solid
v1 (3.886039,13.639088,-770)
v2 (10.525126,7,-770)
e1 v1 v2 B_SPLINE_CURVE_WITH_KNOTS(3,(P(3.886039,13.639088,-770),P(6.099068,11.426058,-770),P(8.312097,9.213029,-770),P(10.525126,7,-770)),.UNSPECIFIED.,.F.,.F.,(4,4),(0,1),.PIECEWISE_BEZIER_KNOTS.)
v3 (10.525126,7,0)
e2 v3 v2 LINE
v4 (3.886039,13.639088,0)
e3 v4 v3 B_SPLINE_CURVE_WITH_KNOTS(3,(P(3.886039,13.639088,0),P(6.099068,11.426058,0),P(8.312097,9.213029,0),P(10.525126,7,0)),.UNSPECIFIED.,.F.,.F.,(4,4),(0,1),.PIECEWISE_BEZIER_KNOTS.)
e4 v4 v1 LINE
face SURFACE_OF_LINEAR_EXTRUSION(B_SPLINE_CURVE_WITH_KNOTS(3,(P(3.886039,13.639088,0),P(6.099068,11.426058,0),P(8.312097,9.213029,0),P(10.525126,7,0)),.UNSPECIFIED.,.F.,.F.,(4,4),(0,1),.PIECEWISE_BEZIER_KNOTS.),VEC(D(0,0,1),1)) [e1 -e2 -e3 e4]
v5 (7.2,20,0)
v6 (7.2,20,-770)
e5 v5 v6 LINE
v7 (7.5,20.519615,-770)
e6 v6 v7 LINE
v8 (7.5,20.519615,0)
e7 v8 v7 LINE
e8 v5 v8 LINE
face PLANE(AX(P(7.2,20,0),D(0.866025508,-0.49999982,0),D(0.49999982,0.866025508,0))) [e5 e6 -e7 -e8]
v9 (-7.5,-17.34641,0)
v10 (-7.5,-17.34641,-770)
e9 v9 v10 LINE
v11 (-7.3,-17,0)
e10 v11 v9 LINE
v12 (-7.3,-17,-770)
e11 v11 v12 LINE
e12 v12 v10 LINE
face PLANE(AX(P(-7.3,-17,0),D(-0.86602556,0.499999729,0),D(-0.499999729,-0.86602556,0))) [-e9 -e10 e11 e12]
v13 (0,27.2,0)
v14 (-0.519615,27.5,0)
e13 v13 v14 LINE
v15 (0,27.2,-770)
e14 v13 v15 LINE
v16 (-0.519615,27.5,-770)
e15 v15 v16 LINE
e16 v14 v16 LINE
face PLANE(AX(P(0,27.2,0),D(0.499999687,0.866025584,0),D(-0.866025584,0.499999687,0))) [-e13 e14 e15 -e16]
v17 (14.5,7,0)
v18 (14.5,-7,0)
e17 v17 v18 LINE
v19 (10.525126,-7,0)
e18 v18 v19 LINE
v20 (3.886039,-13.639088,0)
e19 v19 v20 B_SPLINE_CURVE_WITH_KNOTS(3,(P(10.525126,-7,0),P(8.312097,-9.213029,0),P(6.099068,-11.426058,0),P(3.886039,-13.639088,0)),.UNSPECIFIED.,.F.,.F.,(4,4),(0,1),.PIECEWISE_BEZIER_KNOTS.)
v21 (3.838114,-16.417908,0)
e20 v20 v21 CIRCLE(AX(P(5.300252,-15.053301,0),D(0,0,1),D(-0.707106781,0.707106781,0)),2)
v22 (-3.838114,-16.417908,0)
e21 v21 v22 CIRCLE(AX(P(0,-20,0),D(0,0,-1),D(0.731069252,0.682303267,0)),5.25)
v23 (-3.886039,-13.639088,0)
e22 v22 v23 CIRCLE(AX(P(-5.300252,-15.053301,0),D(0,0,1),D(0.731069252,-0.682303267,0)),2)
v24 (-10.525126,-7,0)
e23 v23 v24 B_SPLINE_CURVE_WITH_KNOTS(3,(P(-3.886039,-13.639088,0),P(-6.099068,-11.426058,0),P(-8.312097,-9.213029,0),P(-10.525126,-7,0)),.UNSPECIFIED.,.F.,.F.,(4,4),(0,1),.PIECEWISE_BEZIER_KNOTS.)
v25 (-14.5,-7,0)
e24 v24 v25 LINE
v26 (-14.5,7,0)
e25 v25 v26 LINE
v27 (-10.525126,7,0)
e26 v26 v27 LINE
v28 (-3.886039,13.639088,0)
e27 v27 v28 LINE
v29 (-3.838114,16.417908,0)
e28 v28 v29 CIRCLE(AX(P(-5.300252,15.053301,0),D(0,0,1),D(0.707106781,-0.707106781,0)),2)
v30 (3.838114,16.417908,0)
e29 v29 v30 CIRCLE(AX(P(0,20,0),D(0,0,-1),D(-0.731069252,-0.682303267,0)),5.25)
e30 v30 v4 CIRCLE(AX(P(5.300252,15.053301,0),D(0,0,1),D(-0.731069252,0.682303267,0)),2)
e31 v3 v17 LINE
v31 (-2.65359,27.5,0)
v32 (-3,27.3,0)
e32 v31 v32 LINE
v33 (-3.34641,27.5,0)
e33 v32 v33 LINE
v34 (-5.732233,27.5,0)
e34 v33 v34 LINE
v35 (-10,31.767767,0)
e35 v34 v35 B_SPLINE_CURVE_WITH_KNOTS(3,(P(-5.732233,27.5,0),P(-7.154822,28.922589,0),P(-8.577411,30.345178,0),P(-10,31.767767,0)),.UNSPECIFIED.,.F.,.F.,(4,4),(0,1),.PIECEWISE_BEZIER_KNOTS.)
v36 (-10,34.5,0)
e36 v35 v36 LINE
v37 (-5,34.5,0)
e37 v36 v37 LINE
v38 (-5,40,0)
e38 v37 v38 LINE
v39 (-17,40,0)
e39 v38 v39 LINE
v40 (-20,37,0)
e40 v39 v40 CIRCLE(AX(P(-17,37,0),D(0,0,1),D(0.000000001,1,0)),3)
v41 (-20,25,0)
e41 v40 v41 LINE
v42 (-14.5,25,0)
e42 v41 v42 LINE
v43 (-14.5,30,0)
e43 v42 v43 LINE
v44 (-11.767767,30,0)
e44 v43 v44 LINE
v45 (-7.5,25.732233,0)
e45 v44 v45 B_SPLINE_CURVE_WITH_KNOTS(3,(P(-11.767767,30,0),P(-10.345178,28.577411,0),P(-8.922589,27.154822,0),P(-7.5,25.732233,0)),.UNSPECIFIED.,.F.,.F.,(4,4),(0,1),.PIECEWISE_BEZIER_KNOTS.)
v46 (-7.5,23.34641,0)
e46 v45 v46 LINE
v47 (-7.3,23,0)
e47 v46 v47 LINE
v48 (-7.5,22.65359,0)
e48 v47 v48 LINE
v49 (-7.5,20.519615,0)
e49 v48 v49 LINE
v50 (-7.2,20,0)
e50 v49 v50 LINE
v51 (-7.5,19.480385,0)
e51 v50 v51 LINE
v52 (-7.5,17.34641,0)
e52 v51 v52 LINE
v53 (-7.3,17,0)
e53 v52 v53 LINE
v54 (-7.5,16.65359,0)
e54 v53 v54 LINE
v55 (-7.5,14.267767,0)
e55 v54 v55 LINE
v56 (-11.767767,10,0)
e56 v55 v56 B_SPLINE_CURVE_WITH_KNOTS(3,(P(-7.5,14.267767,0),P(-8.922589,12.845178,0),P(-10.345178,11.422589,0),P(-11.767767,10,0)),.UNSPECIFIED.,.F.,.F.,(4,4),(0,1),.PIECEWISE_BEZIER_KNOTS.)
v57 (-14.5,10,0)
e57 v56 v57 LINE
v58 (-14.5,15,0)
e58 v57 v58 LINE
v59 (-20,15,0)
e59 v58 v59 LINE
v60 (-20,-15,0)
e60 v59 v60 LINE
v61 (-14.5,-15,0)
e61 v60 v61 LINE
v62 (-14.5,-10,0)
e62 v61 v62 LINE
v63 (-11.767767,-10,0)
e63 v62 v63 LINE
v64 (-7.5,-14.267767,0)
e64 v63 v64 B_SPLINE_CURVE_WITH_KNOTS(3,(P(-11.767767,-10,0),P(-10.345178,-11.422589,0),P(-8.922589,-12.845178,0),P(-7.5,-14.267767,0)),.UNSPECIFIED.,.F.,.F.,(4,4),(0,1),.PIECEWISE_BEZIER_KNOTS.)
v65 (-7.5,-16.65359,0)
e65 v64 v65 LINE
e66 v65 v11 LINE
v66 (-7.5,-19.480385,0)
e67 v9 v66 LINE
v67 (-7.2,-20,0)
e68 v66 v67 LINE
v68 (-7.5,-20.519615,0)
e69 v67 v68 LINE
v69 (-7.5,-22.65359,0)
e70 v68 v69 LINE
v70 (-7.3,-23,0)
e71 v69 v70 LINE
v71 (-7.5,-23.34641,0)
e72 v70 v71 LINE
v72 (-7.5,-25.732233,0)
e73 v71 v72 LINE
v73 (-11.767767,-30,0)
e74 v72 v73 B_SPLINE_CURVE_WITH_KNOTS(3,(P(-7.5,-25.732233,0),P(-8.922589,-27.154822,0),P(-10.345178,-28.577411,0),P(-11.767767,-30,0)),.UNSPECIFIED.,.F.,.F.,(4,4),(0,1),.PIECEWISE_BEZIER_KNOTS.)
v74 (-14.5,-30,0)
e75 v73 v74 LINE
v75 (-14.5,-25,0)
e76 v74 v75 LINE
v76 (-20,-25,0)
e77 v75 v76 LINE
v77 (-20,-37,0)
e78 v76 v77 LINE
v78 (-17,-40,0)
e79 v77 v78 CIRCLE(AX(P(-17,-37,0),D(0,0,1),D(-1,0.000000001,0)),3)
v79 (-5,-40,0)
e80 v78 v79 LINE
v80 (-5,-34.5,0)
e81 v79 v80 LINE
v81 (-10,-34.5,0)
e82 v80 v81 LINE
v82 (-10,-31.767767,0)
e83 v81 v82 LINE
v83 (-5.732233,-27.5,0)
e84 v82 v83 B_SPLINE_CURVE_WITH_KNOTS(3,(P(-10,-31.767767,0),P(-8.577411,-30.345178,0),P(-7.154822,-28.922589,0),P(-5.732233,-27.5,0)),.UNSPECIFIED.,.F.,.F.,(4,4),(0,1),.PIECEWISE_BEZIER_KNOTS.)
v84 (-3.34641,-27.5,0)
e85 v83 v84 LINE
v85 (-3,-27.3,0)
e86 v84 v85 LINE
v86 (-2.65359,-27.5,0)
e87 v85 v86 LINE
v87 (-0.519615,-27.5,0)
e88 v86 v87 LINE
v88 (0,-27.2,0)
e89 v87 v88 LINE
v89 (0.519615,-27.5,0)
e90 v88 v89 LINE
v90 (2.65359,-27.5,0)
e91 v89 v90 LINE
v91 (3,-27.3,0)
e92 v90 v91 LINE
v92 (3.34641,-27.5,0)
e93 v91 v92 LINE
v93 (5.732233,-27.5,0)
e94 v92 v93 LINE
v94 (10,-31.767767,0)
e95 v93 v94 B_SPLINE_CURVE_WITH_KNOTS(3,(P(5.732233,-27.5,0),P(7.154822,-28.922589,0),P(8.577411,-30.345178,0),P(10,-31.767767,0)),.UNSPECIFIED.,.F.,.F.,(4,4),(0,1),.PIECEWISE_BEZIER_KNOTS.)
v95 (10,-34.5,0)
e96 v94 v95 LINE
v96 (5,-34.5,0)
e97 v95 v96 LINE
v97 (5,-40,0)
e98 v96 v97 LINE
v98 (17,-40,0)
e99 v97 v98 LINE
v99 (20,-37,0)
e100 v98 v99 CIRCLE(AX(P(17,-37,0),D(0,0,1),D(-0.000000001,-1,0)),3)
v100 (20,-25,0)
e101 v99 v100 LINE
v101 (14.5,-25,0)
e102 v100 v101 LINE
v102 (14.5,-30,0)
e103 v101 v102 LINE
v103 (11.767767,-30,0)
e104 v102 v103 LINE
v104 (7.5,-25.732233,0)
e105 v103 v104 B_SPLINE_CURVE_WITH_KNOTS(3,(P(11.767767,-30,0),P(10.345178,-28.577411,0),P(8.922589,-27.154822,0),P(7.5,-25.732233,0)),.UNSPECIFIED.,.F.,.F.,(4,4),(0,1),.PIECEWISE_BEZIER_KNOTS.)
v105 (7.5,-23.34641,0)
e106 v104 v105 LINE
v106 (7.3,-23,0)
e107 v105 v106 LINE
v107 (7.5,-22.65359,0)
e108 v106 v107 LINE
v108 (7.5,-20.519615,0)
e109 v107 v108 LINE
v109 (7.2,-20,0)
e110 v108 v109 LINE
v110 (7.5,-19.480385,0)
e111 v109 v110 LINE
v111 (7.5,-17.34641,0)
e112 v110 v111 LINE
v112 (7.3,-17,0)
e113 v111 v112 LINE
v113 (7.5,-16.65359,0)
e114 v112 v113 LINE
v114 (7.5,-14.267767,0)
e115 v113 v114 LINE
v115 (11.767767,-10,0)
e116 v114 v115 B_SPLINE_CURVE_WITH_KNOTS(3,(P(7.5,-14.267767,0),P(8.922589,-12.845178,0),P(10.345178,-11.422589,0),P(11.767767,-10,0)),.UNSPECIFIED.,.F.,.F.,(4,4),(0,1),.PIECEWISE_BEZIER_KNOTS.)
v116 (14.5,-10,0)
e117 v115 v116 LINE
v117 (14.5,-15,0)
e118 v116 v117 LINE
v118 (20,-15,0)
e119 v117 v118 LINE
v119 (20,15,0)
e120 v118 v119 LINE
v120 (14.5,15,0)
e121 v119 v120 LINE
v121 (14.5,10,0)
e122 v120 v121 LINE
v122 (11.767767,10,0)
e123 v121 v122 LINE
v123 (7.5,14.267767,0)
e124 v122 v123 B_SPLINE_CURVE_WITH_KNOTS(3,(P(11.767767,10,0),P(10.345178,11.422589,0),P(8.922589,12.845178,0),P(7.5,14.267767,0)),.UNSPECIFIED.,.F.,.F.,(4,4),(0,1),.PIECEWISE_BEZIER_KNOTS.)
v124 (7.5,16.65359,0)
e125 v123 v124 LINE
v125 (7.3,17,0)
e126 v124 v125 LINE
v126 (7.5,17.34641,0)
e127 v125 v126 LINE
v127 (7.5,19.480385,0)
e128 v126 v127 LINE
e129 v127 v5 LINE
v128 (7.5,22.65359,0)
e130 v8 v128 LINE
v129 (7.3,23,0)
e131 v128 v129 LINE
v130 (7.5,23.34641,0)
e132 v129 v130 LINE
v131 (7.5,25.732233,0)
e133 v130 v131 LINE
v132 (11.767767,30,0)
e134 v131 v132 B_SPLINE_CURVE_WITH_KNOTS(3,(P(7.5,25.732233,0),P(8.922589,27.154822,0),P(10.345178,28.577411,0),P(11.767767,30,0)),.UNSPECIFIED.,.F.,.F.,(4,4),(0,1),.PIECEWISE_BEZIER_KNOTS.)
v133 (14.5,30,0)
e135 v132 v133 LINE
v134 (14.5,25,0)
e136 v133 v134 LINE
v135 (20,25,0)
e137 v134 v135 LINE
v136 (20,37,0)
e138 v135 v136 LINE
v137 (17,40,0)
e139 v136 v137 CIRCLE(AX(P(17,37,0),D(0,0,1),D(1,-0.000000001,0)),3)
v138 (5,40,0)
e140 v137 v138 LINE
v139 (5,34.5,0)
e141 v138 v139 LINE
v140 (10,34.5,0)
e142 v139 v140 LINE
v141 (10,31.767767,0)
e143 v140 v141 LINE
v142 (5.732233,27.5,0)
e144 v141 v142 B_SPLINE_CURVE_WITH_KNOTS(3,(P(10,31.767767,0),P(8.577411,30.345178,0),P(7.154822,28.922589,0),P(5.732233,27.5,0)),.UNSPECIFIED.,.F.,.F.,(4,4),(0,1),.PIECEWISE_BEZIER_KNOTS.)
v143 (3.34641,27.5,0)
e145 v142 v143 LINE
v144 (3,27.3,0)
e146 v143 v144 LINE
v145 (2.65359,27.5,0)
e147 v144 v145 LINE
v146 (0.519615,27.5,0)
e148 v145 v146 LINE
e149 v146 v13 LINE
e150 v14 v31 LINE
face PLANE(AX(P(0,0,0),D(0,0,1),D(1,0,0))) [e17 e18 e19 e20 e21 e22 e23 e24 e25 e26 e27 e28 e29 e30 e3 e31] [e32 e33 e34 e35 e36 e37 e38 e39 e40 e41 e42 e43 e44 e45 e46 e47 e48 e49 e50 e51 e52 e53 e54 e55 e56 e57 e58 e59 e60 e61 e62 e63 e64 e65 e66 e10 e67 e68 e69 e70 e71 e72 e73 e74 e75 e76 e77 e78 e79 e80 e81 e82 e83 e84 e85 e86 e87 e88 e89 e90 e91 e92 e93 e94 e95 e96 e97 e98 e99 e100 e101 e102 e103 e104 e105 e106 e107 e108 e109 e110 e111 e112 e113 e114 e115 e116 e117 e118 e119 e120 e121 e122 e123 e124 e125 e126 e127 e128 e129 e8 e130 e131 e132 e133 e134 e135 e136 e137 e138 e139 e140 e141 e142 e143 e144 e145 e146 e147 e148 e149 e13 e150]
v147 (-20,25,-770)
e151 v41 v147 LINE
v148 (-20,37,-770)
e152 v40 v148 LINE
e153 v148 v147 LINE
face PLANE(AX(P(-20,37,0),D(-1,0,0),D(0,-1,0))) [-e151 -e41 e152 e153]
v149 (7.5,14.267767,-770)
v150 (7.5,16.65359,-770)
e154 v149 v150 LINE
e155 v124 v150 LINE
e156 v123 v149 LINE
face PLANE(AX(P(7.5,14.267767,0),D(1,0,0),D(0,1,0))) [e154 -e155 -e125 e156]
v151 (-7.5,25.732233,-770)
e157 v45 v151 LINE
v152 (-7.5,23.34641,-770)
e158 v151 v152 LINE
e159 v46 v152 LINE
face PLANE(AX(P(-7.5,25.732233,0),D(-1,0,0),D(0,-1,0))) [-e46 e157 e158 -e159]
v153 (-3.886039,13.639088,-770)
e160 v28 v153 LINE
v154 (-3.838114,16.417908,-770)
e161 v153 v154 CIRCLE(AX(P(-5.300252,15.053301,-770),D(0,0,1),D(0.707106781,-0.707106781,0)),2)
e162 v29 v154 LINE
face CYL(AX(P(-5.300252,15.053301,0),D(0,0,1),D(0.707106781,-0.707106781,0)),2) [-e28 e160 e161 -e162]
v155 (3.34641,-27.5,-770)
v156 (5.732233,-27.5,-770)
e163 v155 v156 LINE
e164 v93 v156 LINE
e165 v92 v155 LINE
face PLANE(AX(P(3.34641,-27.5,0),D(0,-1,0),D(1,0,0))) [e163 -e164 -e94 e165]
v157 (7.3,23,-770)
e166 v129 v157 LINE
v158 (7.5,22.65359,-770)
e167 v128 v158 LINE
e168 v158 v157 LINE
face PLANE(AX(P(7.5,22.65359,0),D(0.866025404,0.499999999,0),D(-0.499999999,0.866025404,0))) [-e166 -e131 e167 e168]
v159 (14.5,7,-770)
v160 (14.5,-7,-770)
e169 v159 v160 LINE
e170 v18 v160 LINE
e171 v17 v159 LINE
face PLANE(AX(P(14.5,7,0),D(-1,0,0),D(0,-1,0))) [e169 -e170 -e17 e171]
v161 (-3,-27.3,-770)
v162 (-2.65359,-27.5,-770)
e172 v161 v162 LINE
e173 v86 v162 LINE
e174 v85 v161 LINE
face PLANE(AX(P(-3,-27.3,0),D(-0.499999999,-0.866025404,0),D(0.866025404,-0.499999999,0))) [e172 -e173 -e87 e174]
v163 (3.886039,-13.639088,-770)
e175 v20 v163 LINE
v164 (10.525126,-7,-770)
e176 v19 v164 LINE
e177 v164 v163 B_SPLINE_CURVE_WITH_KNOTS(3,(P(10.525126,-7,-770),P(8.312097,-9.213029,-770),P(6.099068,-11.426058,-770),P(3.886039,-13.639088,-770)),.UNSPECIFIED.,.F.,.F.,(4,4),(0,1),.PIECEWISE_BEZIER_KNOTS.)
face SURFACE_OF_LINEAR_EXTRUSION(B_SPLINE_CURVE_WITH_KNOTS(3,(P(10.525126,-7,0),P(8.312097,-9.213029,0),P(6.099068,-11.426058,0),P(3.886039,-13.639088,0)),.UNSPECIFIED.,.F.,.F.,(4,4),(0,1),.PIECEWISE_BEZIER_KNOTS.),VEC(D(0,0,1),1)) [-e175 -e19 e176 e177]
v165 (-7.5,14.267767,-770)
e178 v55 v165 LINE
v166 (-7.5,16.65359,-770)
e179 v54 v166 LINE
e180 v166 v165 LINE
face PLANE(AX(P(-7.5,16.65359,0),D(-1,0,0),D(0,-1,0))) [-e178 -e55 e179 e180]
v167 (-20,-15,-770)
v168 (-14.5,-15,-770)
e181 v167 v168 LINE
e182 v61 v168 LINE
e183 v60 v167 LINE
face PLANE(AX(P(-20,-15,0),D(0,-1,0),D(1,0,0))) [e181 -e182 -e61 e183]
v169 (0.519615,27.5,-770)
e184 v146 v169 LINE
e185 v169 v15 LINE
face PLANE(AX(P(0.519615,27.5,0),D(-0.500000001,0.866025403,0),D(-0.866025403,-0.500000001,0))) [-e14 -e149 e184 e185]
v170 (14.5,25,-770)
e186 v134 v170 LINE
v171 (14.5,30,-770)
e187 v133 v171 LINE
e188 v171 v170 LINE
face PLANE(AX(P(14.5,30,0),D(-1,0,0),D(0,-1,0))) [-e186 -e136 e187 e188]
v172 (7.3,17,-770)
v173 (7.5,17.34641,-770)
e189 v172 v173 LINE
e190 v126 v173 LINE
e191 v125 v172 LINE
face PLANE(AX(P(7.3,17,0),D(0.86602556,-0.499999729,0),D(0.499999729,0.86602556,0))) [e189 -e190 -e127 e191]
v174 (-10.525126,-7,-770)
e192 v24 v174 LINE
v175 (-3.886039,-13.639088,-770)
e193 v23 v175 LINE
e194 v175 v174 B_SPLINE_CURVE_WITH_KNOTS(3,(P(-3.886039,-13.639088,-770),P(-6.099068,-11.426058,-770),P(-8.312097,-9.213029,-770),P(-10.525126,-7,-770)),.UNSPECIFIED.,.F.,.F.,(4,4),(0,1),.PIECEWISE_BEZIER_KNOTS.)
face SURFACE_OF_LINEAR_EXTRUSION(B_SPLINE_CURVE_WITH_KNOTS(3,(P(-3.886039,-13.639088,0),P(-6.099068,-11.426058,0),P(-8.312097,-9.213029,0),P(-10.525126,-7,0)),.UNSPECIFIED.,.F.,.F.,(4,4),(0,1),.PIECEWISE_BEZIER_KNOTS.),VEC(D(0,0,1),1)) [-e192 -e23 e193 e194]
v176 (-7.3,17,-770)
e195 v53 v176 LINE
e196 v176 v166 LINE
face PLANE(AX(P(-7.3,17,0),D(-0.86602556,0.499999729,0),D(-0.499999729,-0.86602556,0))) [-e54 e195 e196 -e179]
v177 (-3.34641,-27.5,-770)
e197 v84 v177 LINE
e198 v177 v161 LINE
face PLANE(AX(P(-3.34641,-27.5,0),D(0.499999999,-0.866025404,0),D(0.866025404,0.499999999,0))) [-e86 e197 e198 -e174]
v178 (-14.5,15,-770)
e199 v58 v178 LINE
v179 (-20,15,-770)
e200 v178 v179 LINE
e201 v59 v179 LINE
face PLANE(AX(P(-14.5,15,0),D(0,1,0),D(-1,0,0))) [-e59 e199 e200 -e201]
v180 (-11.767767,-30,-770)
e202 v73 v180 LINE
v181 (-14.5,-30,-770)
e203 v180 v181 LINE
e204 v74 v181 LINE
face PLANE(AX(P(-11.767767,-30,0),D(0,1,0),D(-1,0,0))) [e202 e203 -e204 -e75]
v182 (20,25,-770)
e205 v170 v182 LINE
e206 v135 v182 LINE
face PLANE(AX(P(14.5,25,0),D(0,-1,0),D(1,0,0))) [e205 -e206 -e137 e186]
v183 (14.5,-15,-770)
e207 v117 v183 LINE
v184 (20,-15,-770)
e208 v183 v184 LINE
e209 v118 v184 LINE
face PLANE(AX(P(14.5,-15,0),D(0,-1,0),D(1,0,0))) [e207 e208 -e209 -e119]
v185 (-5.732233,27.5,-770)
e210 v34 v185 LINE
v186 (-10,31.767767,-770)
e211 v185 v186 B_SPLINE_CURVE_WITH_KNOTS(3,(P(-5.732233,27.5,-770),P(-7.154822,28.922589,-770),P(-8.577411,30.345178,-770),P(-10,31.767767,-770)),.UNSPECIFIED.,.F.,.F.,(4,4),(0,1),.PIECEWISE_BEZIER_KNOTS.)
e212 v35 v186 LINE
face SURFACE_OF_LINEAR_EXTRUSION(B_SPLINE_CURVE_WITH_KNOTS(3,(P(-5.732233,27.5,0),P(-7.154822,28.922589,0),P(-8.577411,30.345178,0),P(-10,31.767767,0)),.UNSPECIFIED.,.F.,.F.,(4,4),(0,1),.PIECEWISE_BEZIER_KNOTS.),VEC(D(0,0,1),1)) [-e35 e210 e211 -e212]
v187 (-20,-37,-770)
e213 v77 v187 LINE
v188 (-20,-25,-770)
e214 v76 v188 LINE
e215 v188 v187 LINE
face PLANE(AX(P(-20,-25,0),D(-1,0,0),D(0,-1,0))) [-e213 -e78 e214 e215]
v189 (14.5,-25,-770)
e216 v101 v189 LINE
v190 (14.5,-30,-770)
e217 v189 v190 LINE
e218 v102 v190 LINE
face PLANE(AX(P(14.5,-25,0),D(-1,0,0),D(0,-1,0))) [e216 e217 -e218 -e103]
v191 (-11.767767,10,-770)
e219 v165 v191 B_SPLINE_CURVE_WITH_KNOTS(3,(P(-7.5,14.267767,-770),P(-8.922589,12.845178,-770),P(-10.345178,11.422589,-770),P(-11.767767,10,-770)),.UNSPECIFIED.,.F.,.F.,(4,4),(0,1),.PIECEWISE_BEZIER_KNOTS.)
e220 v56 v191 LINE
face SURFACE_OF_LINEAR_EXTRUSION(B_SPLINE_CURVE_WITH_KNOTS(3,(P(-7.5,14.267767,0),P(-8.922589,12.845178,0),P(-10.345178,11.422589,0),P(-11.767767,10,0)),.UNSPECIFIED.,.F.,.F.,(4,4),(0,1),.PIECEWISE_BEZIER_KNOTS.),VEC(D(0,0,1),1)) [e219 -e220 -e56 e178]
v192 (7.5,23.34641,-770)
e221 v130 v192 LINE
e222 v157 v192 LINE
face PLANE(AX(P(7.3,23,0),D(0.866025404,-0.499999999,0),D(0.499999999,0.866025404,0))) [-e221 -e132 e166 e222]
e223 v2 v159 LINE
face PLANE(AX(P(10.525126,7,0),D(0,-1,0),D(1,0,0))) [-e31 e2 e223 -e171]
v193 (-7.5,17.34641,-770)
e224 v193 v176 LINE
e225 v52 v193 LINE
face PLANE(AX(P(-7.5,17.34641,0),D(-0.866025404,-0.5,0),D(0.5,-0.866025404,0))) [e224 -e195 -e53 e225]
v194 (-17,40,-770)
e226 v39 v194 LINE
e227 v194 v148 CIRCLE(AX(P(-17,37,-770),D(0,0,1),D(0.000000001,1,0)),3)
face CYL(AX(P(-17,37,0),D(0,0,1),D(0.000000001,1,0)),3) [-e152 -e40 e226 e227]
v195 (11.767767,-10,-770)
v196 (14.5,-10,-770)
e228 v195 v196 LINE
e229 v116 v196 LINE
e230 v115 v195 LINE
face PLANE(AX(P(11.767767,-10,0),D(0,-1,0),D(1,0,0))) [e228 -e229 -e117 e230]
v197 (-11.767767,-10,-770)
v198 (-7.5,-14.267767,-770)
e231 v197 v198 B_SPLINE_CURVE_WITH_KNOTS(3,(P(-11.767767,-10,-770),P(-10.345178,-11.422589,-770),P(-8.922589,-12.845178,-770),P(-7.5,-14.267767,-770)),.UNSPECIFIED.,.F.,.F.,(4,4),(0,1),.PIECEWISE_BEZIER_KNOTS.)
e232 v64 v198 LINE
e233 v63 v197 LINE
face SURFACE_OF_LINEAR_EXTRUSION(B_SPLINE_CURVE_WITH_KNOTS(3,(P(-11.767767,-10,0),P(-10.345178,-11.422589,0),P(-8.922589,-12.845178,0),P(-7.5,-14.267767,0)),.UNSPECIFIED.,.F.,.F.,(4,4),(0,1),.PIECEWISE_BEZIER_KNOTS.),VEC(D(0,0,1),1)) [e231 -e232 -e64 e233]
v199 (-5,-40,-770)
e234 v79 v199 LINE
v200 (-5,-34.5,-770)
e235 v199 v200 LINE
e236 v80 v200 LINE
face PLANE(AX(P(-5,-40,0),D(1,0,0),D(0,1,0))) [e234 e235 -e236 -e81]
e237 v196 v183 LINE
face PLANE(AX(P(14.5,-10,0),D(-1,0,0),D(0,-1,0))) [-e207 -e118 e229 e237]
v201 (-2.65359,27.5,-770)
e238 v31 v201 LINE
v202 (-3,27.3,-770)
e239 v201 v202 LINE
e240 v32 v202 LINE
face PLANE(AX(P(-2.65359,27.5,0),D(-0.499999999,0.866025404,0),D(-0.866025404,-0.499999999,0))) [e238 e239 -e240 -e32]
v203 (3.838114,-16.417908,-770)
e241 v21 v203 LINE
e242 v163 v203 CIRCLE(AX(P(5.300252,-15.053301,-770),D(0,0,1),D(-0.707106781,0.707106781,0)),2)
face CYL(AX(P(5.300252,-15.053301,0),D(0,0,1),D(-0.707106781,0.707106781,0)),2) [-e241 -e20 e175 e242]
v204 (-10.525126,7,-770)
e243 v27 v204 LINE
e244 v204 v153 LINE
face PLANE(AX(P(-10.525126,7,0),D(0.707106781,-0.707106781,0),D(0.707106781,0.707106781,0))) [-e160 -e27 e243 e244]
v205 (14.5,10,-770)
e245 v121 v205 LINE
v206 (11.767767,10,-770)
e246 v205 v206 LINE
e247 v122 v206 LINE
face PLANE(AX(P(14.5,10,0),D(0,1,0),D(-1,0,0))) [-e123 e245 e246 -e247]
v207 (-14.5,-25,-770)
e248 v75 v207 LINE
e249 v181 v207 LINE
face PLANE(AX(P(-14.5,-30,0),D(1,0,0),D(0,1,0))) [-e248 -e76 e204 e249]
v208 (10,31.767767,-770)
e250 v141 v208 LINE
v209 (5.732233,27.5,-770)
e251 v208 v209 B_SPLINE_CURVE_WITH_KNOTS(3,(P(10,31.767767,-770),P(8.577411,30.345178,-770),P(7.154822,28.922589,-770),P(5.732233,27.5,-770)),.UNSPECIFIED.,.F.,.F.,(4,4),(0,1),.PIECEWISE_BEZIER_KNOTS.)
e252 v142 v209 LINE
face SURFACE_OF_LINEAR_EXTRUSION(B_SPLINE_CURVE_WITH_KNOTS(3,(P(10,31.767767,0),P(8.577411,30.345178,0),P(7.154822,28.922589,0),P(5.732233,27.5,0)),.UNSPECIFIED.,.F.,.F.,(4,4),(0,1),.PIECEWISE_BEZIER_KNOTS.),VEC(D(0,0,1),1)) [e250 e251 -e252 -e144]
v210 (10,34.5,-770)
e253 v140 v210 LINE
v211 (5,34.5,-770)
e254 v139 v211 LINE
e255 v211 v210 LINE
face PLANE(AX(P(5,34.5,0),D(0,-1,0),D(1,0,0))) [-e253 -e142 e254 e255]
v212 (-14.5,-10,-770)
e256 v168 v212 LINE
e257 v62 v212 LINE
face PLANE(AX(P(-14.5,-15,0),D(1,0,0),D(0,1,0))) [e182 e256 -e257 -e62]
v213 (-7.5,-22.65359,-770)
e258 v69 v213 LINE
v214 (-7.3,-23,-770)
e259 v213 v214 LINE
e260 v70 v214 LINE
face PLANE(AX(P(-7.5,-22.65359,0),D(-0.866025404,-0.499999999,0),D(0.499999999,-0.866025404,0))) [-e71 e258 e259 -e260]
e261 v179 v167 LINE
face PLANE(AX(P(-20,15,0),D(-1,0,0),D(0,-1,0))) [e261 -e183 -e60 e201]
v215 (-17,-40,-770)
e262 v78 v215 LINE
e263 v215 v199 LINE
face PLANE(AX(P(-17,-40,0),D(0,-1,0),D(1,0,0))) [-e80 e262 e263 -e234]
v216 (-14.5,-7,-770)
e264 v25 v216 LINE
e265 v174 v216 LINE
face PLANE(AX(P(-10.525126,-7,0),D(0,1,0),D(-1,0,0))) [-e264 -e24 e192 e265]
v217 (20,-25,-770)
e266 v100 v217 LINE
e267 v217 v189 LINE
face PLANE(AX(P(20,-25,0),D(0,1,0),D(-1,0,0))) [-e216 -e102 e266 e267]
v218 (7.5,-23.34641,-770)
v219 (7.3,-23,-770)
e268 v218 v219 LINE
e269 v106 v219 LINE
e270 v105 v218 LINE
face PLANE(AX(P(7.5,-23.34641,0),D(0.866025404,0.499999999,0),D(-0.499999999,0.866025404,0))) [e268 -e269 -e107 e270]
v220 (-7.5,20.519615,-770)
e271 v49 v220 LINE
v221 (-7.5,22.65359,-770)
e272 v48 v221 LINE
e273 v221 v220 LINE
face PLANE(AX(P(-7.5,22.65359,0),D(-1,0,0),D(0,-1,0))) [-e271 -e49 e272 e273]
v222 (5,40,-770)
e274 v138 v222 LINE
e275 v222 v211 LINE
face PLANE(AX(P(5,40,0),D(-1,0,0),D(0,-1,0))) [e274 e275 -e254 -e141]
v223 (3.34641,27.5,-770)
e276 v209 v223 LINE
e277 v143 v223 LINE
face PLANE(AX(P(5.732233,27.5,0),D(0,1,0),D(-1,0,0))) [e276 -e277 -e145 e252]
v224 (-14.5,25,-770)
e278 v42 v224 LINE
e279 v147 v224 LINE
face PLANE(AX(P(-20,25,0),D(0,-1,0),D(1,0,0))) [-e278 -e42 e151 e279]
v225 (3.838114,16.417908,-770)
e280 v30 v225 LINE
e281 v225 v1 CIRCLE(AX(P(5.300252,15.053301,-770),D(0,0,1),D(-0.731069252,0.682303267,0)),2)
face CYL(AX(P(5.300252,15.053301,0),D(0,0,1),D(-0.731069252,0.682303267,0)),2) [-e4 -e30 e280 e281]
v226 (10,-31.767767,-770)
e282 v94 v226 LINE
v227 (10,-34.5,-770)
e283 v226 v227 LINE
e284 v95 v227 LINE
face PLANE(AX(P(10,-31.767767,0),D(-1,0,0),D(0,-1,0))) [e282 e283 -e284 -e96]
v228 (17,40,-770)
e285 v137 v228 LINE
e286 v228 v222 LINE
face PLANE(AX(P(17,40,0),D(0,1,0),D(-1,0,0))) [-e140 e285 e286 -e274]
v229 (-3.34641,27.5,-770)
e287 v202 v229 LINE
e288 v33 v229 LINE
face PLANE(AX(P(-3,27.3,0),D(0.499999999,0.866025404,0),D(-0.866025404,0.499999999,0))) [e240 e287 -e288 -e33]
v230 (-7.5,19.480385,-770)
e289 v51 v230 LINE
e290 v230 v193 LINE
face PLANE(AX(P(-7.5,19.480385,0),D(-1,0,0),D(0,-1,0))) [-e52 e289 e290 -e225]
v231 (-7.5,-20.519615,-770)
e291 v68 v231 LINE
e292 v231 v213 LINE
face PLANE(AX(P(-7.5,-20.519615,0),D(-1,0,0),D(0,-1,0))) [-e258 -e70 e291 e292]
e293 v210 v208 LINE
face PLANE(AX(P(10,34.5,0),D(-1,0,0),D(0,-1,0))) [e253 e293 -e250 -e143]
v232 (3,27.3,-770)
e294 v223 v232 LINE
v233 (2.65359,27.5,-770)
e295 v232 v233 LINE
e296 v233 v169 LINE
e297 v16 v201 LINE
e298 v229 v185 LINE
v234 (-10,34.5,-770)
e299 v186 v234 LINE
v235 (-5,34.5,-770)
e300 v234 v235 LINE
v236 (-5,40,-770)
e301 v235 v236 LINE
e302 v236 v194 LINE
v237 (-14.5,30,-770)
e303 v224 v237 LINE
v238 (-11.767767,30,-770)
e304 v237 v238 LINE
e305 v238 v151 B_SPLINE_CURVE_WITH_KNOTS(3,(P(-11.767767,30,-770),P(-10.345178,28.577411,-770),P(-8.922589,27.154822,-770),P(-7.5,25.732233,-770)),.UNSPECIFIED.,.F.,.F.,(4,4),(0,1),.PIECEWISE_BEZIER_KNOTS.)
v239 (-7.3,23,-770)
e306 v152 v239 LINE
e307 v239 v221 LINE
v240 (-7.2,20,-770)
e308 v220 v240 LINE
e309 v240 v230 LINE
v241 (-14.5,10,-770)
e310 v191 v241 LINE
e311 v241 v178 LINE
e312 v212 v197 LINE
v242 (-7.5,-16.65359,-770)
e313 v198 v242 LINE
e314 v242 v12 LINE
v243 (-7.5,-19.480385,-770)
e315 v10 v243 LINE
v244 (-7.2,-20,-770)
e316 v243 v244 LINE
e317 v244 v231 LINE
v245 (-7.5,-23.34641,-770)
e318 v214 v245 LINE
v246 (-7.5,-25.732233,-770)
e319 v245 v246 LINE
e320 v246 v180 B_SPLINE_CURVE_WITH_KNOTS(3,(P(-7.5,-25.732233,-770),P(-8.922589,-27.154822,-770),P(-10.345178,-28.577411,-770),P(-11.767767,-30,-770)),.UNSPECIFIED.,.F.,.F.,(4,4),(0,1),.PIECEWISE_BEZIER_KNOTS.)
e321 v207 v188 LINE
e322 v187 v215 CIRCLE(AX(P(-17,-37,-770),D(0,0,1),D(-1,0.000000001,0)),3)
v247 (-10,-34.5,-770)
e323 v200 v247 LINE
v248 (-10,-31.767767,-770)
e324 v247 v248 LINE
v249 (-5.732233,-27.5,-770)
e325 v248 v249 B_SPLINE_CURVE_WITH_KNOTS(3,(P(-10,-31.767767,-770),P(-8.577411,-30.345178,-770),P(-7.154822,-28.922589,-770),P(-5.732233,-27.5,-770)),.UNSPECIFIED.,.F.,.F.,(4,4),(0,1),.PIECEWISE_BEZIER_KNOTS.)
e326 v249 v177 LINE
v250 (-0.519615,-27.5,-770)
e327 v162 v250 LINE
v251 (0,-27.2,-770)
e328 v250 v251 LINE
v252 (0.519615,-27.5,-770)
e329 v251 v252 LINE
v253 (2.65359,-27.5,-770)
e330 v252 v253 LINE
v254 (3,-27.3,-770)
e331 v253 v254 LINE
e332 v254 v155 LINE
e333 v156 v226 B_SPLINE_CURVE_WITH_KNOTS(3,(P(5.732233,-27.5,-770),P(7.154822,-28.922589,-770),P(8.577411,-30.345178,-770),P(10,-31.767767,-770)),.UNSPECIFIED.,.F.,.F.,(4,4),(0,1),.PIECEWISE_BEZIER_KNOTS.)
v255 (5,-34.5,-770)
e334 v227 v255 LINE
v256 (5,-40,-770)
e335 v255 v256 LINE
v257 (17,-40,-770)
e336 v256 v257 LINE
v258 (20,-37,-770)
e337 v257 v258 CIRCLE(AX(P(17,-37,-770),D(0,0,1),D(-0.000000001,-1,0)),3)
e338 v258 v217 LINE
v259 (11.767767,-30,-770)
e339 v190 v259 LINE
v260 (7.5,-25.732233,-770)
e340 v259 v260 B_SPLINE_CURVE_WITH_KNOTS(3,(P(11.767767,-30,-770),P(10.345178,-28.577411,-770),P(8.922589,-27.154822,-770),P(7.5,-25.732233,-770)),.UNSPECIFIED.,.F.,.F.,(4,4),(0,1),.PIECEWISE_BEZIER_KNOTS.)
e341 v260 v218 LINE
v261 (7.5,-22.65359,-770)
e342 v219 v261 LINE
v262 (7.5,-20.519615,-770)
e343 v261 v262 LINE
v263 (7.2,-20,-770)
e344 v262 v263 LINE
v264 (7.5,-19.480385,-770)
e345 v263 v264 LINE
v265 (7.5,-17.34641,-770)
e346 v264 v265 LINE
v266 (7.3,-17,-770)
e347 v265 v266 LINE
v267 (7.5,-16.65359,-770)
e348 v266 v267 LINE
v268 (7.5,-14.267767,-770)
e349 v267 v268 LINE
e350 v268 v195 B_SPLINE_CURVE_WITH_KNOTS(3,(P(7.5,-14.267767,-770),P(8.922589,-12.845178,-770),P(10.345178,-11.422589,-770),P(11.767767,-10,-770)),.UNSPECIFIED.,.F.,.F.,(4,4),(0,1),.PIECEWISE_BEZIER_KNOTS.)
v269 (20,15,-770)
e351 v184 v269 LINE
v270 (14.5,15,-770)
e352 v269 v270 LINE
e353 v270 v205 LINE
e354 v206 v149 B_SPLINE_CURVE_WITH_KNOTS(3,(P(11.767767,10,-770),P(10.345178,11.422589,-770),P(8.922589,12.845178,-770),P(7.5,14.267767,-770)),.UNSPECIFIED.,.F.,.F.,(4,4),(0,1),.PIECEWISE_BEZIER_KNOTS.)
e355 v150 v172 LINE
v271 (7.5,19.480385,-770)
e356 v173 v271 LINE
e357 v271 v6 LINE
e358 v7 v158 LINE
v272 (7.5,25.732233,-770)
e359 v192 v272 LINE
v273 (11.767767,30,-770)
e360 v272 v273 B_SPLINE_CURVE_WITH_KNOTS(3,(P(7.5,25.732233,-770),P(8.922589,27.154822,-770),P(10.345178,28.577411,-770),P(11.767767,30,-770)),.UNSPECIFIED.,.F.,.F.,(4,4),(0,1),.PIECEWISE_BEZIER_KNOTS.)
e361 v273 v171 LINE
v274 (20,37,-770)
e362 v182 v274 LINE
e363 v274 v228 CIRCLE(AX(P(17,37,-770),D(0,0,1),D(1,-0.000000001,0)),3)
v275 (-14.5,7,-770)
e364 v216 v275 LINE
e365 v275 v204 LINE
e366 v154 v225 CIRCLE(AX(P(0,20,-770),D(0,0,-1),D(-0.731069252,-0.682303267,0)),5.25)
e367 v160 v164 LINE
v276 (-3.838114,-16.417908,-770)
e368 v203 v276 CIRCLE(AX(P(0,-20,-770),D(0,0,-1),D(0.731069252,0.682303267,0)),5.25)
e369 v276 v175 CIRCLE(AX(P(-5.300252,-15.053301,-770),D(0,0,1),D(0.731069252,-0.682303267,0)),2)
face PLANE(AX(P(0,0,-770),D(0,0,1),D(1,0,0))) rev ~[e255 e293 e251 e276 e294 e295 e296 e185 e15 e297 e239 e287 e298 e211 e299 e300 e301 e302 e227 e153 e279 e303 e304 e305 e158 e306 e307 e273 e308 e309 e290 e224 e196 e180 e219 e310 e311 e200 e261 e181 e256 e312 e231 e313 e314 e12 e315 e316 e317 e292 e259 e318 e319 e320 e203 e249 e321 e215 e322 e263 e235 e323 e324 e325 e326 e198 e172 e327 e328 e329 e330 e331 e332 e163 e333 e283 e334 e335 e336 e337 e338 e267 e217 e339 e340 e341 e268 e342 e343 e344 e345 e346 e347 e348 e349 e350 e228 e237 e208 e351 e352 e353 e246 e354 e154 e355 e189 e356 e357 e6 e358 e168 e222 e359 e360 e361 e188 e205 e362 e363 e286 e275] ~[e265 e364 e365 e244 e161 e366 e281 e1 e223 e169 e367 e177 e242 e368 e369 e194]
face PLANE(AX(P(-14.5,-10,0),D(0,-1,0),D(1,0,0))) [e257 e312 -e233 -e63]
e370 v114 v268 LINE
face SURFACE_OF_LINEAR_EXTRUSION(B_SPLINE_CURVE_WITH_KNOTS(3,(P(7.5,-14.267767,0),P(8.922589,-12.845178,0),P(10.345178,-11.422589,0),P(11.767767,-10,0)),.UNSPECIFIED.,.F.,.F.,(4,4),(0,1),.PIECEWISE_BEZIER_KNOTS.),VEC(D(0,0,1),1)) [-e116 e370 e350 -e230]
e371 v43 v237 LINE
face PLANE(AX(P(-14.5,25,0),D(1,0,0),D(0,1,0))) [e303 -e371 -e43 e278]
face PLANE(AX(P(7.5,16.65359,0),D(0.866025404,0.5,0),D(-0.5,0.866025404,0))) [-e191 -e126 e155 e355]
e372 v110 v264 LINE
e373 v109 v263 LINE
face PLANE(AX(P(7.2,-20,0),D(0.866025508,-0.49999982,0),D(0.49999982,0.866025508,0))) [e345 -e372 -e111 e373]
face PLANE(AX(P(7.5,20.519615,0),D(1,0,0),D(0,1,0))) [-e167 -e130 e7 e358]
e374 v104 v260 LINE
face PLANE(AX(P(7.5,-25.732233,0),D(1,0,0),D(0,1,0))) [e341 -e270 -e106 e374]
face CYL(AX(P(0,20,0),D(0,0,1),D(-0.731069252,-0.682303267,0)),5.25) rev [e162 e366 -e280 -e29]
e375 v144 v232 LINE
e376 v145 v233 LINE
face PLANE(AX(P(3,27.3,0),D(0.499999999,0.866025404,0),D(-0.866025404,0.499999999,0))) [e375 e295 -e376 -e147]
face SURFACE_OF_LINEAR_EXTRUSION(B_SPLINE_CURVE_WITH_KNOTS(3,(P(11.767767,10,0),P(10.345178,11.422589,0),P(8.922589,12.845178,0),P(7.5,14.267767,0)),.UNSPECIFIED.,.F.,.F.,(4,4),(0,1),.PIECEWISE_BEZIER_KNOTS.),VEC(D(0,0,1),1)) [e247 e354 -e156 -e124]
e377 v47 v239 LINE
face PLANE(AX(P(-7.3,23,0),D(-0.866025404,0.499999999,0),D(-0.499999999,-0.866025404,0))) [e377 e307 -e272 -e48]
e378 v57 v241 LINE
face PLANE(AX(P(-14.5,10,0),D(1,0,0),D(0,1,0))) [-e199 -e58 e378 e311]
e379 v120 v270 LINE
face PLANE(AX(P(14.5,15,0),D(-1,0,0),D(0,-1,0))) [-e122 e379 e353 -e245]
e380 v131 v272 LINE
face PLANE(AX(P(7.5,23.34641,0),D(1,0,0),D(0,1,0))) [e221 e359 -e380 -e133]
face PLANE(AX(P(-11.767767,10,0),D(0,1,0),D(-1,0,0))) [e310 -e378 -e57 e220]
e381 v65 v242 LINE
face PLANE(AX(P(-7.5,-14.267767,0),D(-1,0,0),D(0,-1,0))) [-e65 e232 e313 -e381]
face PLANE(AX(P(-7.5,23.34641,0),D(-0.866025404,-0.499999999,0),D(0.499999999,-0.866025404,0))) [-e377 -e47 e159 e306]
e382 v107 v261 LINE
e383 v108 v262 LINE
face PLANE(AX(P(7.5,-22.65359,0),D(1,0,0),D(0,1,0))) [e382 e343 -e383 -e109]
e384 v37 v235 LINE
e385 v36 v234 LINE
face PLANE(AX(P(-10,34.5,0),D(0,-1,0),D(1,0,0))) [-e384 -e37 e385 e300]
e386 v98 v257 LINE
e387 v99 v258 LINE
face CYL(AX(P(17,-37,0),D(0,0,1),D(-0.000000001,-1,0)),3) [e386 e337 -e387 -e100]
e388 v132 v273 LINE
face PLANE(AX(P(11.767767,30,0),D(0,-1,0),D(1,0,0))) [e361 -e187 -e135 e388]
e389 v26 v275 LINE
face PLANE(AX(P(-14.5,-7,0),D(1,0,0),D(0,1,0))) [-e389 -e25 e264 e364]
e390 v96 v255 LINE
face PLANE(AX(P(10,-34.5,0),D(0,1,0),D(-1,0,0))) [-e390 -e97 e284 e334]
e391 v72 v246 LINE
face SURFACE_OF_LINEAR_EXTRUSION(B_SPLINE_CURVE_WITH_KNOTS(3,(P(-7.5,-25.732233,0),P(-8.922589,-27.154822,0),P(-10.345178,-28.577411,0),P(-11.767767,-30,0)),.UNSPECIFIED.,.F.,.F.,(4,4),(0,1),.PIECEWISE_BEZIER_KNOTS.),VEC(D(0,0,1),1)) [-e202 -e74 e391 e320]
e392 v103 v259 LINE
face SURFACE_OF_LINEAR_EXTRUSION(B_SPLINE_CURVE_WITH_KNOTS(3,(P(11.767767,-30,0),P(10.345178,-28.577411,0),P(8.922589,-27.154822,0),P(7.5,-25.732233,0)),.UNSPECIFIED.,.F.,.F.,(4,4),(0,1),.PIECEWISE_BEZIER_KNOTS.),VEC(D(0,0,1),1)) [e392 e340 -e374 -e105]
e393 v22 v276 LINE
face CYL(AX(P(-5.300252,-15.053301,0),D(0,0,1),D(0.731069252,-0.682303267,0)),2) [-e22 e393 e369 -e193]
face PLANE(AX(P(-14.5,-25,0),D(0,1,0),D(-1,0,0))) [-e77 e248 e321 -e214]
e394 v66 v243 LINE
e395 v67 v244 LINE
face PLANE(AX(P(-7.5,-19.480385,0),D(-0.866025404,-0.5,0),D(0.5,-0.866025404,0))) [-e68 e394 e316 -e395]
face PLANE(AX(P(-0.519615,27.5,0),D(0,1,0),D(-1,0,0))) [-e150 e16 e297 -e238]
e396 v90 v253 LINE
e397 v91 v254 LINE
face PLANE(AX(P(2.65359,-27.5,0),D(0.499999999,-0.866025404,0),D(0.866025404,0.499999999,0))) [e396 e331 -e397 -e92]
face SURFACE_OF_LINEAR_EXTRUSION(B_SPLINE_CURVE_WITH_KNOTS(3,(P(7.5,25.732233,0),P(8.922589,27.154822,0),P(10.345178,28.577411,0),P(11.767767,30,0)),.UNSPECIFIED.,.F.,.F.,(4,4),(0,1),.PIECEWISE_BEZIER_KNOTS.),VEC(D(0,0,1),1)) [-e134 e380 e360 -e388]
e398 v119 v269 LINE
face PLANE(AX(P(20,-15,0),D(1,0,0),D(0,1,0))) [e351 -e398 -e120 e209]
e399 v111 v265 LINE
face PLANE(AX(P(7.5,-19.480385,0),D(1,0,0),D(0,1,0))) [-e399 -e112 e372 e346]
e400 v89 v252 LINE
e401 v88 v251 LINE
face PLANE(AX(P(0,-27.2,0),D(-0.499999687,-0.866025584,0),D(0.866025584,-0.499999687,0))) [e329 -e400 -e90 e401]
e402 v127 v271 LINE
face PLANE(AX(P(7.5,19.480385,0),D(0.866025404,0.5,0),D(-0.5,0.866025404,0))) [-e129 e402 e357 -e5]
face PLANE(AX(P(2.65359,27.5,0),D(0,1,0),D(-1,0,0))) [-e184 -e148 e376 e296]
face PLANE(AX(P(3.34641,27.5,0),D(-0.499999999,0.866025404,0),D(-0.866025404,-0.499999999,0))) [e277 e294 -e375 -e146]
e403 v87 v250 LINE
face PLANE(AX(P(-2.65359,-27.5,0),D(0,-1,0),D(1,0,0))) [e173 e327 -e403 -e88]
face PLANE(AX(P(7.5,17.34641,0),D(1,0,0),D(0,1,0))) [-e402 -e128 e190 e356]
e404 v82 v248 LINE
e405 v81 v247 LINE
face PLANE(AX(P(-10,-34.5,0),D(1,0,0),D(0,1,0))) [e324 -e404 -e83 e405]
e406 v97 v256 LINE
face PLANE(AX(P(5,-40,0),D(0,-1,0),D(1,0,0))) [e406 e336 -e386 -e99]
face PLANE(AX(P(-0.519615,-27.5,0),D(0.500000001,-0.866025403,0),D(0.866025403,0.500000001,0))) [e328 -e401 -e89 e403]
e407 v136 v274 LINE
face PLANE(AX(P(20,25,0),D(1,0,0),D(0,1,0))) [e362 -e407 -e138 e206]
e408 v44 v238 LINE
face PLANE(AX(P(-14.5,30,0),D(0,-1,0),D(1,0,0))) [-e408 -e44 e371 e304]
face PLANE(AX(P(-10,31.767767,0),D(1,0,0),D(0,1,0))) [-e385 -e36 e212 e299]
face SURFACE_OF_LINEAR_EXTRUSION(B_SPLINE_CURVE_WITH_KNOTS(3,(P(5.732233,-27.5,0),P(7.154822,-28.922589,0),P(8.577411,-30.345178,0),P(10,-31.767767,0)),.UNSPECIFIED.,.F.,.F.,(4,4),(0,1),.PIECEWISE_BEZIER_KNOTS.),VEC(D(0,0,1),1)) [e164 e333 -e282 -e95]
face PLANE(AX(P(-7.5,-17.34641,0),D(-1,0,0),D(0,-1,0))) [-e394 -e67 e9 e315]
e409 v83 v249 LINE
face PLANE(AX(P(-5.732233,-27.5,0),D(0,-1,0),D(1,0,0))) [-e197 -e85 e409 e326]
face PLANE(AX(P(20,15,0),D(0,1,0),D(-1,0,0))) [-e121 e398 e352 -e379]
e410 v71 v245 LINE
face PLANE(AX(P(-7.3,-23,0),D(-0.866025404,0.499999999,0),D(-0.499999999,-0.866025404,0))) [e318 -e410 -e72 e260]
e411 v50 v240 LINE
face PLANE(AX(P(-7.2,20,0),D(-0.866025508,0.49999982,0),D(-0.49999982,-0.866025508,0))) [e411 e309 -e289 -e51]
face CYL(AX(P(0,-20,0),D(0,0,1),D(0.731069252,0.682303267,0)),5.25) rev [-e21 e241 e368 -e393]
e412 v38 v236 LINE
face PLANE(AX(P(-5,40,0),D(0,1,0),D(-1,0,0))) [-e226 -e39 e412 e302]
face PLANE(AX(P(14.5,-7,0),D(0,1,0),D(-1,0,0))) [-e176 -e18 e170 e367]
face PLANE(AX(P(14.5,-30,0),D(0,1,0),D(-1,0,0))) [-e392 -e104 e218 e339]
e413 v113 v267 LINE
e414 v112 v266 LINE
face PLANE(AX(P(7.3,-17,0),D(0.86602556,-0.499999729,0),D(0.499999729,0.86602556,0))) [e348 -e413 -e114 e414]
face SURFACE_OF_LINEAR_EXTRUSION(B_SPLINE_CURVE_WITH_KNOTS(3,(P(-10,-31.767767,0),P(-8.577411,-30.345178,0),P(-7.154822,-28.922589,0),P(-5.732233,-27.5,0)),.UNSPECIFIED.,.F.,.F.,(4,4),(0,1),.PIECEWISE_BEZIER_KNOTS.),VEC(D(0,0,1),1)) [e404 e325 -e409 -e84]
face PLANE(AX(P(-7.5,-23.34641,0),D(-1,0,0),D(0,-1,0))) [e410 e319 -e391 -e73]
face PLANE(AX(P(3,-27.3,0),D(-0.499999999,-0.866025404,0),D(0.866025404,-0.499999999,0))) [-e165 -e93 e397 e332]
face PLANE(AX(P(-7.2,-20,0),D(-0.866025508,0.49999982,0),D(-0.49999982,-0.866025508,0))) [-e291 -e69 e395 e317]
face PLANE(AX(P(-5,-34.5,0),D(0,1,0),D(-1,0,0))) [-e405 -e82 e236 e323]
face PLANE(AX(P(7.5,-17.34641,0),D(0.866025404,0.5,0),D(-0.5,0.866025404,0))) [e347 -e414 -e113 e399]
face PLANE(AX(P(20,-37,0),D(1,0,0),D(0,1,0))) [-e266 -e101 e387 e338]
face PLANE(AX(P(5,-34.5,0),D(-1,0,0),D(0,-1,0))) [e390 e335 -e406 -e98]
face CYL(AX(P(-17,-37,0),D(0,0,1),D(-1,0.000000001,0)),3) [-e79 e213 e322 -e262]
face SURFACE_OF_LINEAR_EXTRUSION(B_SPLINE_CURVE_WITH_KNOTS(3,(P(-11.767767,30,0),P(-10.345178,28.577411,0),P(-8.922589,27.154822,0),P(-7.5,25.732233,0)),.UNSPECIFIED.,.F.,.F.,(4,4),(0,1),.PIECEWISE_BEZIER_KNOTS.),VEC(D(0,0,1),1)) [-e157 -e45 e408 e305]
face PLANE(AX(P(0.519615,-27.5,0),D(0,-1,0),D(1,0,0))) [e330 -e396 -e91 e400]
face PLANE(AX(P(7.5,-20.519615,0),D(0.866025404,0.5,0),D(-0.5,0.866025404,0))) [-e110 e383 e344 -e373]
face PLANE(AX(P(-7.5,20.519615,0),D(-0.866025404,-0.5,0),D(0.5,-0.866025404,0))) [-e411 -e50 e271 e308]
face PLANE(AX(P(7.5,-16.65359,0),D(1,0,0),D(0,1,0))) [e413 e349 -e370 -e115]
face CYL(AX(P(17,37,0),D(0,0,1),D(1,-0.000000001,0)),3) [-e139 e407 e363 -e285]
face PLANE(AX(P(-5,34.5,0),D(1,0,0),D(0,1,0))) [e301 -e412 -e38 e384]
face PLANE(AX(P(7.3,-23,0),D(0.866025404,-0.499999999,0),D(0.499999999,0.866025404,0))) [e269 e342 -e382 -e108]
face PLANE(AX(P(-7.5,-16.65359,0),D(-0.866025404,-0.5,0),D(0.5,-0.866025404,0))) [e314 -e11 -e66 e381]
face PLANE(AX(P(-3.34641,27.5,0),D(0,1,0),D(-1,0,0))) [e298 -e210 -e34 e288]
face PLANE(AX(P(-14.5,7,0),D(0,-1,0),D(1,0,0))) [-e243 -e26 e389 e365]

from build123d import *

# Parameters (mm, degrees)
BOSS_EXTRUDE1_DEPTH = 770


with BuildPart() as part:
    # Sketch1 → Boss-Extrude1 (new body)
    with BuildSketch(Plane.XY):
        with BuildLine():
            Line((-14.5, 10), (-14.5, 15))
            Line((-14.5, 15), (-20, 15))
            Line((-20, 15), (-20, -15))
            Line((-20, -15), (-14.5, -15))
            Line((-14.5, -15), (-14.5, -10))
            Line((-14.5, -10), (-11.767766953, -10))
            add(Edge.make_bspline(
                [(-11.767766953, -10), (-10.345177969, -11.422588984), (-8.922588984, -12.845177969), (-7.5, -14.267766953)],
                knots=[0, 0, 0, 0, 1, 1, 1, 1], degree=3))
            Line((-7.5, -14.267766953), (-7.5, -16.653589838))
            Line((-7.5, -16.653589838), (-7.300000072, -16.999999875))
            Line((-7.300000072, -16.999999875), (-7.5, -17.346410162))
            Line((-7.5, -17.346410162), (-7.5, -19.480384758))
            Line((-7.5, -19.480384758), (-7.200000072, -19.999999875))
            Line((-7.200000072, -19.999999875), (-7.5, -20.519615242))
            Line((-7.5, -20.519615242), (-7.5, -22.653589838))
            Line((-7.5, -22.653589838), (-7.3, -23))
            Line((-7.3, -23), (-7.5, -23.346410162))
            Line((-7.5, -23.346410162), (-7.5, -25.732233047))
            add(Edge.make_bspline(
                [(-7.5, -25.732233047), (-8.922588984, -27.154822031), (-10.345177969, -28.577411016), (-11.767766953, -30)],
                knots=[0, 0, 0, 0, 1, 1, 1, 1], degree=3))
            Line((-11.767766953, -30), (-14.5, -30))
            Line((-14.5, -30), (-14.5, -25))
            Line((-14.5, -25), (-20, -25))
            Line((-20, -25), (-20, -37))
            ThreePointArc((-20, -37), (-19.121320344, -39.121320344), (-17, -40))
            Line((-17, -40), (-5, -40))
            Line((-5, -40), (-5, -34.5))
            Line((-5, -34.5), (-10, -34.5))
            Line((-10, -34.5), (-10, -31.767766953))
            add(Edge.make_bspline(
                [(-10, -31.767766953), (-8.577411016, -30.345177969), (-7.154822031, -28.922588984), (-5.732233047, -27.5)],
                knots=[0, 0, 0, 0, 1, 1, 1, 1], degree=3))
            Line((-5.732233047, -27.5), (-3.346410162, -27.5))
            Line((-3.346410162, -27.5), (-3, -27.3))
            Line((-3, -27.3), (-2.653589838, -27.5))
            Line((-2.653589838, -27.5), (-0.519615242, -27.5))
            Line((-0.519615242, -27.5), (-2.17e-07, -27.200000125))
            Line((-2.17e-07, -27.200000125), (0.519615242, -27.5))
            Line((0.519615242, -27.5), (2.653589838, -27.5))
            Line((2.653589838, -27.5), (3, -27.3))
            Line((3, -27.3), (3.346410162, -27.5))
            Line((3.346410162, -27.5), (5.732233047, -27.5))
            add(Edge.make_bspline(
                [(5.732233047, -27.5), (7.154822031, -28.922588984), (8.577411016, -30.345177969), (10, -31.767766953)],
                knots=[0, 0, 0, 0, 1, 1, 1, 1], degree=3))
            Line((10, -31.767766953), (10, -34.5))
            Line((10, -34.5), (5, -34.5))
            Line((5, -34.5), (5, -40))
            Line((5, -40), (17, -40))
            ThreePointArc((17, -40), (19.121320344, -39.121320344), (20, -37))
            Line((20, -37), (20, -25))
            Line((20, -25), (14.5, -25))
            Line((14.5, -25), (14.5, -30))
            Line((14.5, -30), (11.767766953, -30))
            add(Edge.make_bspline(
                [(11.767766953, -30), (10.345177969, -28.577411016), (8.922588984, -27.154822031), (7.5, -25.732233047)],
                knots=[0, 0, 0, 0, 1, 1, 1, 1], degree=3))
            Line((7.5, -25.732233047), (7.5, -23.346410162))
            Line((7.5, -23.346410162), (7.3, -23))
            Line((7.3, -23), (7.5, -22.653589838))
            Line((7.5, -22.653589838), (7.5, -20.519615242))
            Line((7.5, -20.519615242), (7.200000072, -20.000000125))
            Line((7.200000072, -20.000000125), (7.5, -19.480384758))
            Line((7.5, -19.480384758), (7.5, -17.346410162))
            Line((7.5, -17.346410162), (7.300000072, -17.000000125))
            Line((7.300000072, -17.000000125), (7.5, -16.653589838))
            Line((7.5, -16.653589838), (7.5, -14.267766953))
            add(Edge.make_bspline(
                [(7.5, -14.267766953), (8.922588984, -12.845177969), (10.345177969, -11.422588984), (11.767766953, -10)],
                knots=[0, 0, 0, 0, 1, 1, 1, 1], degree=3))
            Line((11.767766953, -10), (14.5, -10))
            Line((14.5, -10), (14.5, -15))
            Line((14.5, -15), (20, -15))
            Line((20, -15), (20, 15))
            Line((20, 15), (14.5, 15))
            Line((14.5, 15), (14.5, 10))
            Line((14.5, 10), (11.767766953, 10))
            add(Edge.make_bspline(
                [(11.767766953, 10), (10.345177969, 11.422588984), (8.922588984, 12.845177969), (7.5, 14.267766953)],
                knots=[0, 0, 0, 0, 1, 1, 1, 1], degree=3))
            Line((7.5, 14.267766953), (7.5, 16.653589838))
            Line((7.5, 16.653589838), (7.300000072, 16.999999875))
            Line((7.300000072, 16.999999875), (7.5, 17.346410162))
            Line((7.5, 17.346410162), (7.5, 19.480384758))
            Line((7.5, 19.480384758), (7.200000072, 19.999999875))
            Line((7.200000072, 19.999999875), (7.5, 20.519615242))
            Line((7.5, 20.519615242), (7.5, 22.653589838))
            Line((7.5, 22.653589838), (7.3, 23))
            Line((7.3, 23), (7.5, 23.346410162))
            Line((7.5, 23.346410162), (7.5, 25.732233047))
            add(Edge.make_bspline(
                [(7.5, 25.732233047), (8.922588984, 27.154822031), (10.345177969, 28.577411016), (11.767766953, 30)],
                knots=[0, 0, 0, 0, 1, 1, 1, 1], degree=3))
            Line((11.767766953, 30), (14.5, 30))
            Line((14.5, 30), (14.5, 25))
            Line((14.5, 25), (20, 25))
            Line((20, 25), (20, 37))
            ThreePointArc((20, 37), (19.121320344, 39.121320344), (17, 40))
            Line((17, 40), (5, 40))
            Line((5, 40), (5, 34.5))
            Line((5, 34.5), (10, 34.5))
            Line((10, 34.5), (10, 31.767766953))
            add(Edge.make_bspline(
                [(10, 31.767766953), (8.577411016, 30.345177969), (7.154822031, 28.922588984), (5.732233047, 27.5)],
                knots=[0, 0, 0, 0, 1, 1, 1, 1], degree=3))
            Line((5.732233047, 27.5), (3.346410162, 27.5))
            Line((3.346410162, 27.5), (3, 27.3))
            Line((3, 27.3), (2.653589838, 27.5))
            Line((2.653589838, 27.5), (0.519615242, 27.5))
            Line((0.519615242, 27.5), (2.17e-07, 27.200000125))
            Line((2.17e-07, 27.200000125), (-0.519615242, 27.5))
            Line((-0.519615242, 27.5), (-2.653589838, 27.5))
            Line((-2.653589838, 27.5), (-3, 27.3))
            Line((-3, 27.3), (-3.346410162, 27.5))
            Line((-3.346410162, 27.5), (-5.732233047, 27.5))
            add(Edge.make_bspline(
                [(-5.732233047, 27.5), (-7.154822031, 28.922588984), (-8.577411016, 30.345177969), (-10, 31.767766953)],
                knots=[0, 0, 0, 0, 1, 1, 1, 1], degree=3))
            Line((-10, 31.767766953), (-10, 34.5))
            Line((-10, 34.5), (-5, 34.5))
            Line((-5, 34.5), (-5, 40))
            Line((-5, 40), (-17, 40))
            ThreePointArc((-17, 40), (-19.121320344, 39.121320344), (-20, 37))
            Line((-20, 37), (-20, 25))
            Line((-20, 25), (-14.5, 25))
            Line((-14.5, 25), (-14.5, 30))
            Line((-14.5, 30), (-11.767766953, 30))
            add(Edge.make_bspline(
                [(-11.767766953, 30), (-10.345177969, 28.577411016), (-8.922588984, 27.154822031), (-7.5, 25.732233047)],
                knots=[0, 0, 0, 0, 1, 1, 1, 1], degree=3))
            Line((-7.5, 25.732233047), (-7.5, 23.346410162))
            Line((-7.5, 23.346410162), (-7.3, 23))
            Line((-7.3, 23), (-7.5, 22.653589838))
            Line((-7.5, 22.653589838), (-7.5, 20.519615242))
            Line((-7.5, 20.519615242), (-7.200000072, 20.000000125))
            Line((-7.200000072, 20.000000125), (-7.5, 19.480384758))
            Line((-7.5, 19.480384758), (-7.5, 17.346410162))
            Line((-7.5, 17.346410162), (-7.300000072, 17.000000125))
            Line((-7.300000072, 17.000000125), (-7.5, 16.653589838))
            Line((-7.5, 16.653589838), (-7.5, 14.267766953))
            add(Edge.make_bspline(
                [(-7.5, 14.267766953), (-8.922588984, 12.845177969), (-10.345177969, 11.422588984), (-11.767766953, 10)],
                knots=[0, 0, 0, 0, 1, 1, 1, 1], degree=3))
            Line((-11.767766953, 10), (-14.5, 10))
        make_face()
        with BuildLine():
            Line((-10.525126266, -7), (-14.5, -7))
            Line((-14.5, -7), (-14.5, 7))
            Line((-14.5, 7), (-10.525126266, 7))
            Line((-10.525126266, 7), (-3.886038516, 13.63908775))
            ThreePointArc((-3.886038516, 13.63908775), (-3.300549454, 15.018813426), (-3.838113574, 16.417907847))
            ThreePointArc((-3.838113574, 16.417907847), (0, 25.25), (3.838113574, 16.417907847))
            ThreePointArc((3.838113574, 16.417907847), (3.300549454, 15.018813426), (3.886038516, 13.63908775))
            add(Edge.make_bspline(
                [(3.886038516, 13.63908775), (6.099067766, 11.4260585), (8.312097016, 9.21302925), (10.525126266, 7)],
                knots=[0, 0, 0, 0, 1, 1, 1, 1], degree=3))
            Line((10.525126266, 7), (14.5, 7))
            Line((14.5, 7), (14.5, -7))
            Line((14.5, -7), (10.525126266, -7))
            add(Edge.make_bspline(
                [(10.525126266, -7), (8.312097016, -9.21302925), (6.099067766, -11.4260585), (3.886038516, -13.63908775)],
                knots=[0, 0, 0, 0, 1, 1, 1, 1], degree=3))
            ThreePointArc((3.886038516, -13.63908775), (3.300549454, -15.018813426), (3.838113574, -16.417907847))
            ThreePointArc((3.838113574, -16.417907847), (0, -25.25), (-3.838113574, -16.417907847))
            ThreePointArc((-3.838113574, -16.417907847), (-3.300549454, -15.018813426), (-3.886038516, -13.63908775))
            add(Edge.make_bspline(
                [(-3.886038516, -13.63908775), (-6.099067766, -11.4260585), (-8.312097016, -9.21302925), (-10.525126266, -7)],
                knots=[0, 0, 0, 0, 1, 1, 1, 1], degree=3))
        make_face(mode=Mode.SUBTRACT)
    extrude(amount=-BOSS_EXTRUDE1_DEPTH)


solid = part.part
